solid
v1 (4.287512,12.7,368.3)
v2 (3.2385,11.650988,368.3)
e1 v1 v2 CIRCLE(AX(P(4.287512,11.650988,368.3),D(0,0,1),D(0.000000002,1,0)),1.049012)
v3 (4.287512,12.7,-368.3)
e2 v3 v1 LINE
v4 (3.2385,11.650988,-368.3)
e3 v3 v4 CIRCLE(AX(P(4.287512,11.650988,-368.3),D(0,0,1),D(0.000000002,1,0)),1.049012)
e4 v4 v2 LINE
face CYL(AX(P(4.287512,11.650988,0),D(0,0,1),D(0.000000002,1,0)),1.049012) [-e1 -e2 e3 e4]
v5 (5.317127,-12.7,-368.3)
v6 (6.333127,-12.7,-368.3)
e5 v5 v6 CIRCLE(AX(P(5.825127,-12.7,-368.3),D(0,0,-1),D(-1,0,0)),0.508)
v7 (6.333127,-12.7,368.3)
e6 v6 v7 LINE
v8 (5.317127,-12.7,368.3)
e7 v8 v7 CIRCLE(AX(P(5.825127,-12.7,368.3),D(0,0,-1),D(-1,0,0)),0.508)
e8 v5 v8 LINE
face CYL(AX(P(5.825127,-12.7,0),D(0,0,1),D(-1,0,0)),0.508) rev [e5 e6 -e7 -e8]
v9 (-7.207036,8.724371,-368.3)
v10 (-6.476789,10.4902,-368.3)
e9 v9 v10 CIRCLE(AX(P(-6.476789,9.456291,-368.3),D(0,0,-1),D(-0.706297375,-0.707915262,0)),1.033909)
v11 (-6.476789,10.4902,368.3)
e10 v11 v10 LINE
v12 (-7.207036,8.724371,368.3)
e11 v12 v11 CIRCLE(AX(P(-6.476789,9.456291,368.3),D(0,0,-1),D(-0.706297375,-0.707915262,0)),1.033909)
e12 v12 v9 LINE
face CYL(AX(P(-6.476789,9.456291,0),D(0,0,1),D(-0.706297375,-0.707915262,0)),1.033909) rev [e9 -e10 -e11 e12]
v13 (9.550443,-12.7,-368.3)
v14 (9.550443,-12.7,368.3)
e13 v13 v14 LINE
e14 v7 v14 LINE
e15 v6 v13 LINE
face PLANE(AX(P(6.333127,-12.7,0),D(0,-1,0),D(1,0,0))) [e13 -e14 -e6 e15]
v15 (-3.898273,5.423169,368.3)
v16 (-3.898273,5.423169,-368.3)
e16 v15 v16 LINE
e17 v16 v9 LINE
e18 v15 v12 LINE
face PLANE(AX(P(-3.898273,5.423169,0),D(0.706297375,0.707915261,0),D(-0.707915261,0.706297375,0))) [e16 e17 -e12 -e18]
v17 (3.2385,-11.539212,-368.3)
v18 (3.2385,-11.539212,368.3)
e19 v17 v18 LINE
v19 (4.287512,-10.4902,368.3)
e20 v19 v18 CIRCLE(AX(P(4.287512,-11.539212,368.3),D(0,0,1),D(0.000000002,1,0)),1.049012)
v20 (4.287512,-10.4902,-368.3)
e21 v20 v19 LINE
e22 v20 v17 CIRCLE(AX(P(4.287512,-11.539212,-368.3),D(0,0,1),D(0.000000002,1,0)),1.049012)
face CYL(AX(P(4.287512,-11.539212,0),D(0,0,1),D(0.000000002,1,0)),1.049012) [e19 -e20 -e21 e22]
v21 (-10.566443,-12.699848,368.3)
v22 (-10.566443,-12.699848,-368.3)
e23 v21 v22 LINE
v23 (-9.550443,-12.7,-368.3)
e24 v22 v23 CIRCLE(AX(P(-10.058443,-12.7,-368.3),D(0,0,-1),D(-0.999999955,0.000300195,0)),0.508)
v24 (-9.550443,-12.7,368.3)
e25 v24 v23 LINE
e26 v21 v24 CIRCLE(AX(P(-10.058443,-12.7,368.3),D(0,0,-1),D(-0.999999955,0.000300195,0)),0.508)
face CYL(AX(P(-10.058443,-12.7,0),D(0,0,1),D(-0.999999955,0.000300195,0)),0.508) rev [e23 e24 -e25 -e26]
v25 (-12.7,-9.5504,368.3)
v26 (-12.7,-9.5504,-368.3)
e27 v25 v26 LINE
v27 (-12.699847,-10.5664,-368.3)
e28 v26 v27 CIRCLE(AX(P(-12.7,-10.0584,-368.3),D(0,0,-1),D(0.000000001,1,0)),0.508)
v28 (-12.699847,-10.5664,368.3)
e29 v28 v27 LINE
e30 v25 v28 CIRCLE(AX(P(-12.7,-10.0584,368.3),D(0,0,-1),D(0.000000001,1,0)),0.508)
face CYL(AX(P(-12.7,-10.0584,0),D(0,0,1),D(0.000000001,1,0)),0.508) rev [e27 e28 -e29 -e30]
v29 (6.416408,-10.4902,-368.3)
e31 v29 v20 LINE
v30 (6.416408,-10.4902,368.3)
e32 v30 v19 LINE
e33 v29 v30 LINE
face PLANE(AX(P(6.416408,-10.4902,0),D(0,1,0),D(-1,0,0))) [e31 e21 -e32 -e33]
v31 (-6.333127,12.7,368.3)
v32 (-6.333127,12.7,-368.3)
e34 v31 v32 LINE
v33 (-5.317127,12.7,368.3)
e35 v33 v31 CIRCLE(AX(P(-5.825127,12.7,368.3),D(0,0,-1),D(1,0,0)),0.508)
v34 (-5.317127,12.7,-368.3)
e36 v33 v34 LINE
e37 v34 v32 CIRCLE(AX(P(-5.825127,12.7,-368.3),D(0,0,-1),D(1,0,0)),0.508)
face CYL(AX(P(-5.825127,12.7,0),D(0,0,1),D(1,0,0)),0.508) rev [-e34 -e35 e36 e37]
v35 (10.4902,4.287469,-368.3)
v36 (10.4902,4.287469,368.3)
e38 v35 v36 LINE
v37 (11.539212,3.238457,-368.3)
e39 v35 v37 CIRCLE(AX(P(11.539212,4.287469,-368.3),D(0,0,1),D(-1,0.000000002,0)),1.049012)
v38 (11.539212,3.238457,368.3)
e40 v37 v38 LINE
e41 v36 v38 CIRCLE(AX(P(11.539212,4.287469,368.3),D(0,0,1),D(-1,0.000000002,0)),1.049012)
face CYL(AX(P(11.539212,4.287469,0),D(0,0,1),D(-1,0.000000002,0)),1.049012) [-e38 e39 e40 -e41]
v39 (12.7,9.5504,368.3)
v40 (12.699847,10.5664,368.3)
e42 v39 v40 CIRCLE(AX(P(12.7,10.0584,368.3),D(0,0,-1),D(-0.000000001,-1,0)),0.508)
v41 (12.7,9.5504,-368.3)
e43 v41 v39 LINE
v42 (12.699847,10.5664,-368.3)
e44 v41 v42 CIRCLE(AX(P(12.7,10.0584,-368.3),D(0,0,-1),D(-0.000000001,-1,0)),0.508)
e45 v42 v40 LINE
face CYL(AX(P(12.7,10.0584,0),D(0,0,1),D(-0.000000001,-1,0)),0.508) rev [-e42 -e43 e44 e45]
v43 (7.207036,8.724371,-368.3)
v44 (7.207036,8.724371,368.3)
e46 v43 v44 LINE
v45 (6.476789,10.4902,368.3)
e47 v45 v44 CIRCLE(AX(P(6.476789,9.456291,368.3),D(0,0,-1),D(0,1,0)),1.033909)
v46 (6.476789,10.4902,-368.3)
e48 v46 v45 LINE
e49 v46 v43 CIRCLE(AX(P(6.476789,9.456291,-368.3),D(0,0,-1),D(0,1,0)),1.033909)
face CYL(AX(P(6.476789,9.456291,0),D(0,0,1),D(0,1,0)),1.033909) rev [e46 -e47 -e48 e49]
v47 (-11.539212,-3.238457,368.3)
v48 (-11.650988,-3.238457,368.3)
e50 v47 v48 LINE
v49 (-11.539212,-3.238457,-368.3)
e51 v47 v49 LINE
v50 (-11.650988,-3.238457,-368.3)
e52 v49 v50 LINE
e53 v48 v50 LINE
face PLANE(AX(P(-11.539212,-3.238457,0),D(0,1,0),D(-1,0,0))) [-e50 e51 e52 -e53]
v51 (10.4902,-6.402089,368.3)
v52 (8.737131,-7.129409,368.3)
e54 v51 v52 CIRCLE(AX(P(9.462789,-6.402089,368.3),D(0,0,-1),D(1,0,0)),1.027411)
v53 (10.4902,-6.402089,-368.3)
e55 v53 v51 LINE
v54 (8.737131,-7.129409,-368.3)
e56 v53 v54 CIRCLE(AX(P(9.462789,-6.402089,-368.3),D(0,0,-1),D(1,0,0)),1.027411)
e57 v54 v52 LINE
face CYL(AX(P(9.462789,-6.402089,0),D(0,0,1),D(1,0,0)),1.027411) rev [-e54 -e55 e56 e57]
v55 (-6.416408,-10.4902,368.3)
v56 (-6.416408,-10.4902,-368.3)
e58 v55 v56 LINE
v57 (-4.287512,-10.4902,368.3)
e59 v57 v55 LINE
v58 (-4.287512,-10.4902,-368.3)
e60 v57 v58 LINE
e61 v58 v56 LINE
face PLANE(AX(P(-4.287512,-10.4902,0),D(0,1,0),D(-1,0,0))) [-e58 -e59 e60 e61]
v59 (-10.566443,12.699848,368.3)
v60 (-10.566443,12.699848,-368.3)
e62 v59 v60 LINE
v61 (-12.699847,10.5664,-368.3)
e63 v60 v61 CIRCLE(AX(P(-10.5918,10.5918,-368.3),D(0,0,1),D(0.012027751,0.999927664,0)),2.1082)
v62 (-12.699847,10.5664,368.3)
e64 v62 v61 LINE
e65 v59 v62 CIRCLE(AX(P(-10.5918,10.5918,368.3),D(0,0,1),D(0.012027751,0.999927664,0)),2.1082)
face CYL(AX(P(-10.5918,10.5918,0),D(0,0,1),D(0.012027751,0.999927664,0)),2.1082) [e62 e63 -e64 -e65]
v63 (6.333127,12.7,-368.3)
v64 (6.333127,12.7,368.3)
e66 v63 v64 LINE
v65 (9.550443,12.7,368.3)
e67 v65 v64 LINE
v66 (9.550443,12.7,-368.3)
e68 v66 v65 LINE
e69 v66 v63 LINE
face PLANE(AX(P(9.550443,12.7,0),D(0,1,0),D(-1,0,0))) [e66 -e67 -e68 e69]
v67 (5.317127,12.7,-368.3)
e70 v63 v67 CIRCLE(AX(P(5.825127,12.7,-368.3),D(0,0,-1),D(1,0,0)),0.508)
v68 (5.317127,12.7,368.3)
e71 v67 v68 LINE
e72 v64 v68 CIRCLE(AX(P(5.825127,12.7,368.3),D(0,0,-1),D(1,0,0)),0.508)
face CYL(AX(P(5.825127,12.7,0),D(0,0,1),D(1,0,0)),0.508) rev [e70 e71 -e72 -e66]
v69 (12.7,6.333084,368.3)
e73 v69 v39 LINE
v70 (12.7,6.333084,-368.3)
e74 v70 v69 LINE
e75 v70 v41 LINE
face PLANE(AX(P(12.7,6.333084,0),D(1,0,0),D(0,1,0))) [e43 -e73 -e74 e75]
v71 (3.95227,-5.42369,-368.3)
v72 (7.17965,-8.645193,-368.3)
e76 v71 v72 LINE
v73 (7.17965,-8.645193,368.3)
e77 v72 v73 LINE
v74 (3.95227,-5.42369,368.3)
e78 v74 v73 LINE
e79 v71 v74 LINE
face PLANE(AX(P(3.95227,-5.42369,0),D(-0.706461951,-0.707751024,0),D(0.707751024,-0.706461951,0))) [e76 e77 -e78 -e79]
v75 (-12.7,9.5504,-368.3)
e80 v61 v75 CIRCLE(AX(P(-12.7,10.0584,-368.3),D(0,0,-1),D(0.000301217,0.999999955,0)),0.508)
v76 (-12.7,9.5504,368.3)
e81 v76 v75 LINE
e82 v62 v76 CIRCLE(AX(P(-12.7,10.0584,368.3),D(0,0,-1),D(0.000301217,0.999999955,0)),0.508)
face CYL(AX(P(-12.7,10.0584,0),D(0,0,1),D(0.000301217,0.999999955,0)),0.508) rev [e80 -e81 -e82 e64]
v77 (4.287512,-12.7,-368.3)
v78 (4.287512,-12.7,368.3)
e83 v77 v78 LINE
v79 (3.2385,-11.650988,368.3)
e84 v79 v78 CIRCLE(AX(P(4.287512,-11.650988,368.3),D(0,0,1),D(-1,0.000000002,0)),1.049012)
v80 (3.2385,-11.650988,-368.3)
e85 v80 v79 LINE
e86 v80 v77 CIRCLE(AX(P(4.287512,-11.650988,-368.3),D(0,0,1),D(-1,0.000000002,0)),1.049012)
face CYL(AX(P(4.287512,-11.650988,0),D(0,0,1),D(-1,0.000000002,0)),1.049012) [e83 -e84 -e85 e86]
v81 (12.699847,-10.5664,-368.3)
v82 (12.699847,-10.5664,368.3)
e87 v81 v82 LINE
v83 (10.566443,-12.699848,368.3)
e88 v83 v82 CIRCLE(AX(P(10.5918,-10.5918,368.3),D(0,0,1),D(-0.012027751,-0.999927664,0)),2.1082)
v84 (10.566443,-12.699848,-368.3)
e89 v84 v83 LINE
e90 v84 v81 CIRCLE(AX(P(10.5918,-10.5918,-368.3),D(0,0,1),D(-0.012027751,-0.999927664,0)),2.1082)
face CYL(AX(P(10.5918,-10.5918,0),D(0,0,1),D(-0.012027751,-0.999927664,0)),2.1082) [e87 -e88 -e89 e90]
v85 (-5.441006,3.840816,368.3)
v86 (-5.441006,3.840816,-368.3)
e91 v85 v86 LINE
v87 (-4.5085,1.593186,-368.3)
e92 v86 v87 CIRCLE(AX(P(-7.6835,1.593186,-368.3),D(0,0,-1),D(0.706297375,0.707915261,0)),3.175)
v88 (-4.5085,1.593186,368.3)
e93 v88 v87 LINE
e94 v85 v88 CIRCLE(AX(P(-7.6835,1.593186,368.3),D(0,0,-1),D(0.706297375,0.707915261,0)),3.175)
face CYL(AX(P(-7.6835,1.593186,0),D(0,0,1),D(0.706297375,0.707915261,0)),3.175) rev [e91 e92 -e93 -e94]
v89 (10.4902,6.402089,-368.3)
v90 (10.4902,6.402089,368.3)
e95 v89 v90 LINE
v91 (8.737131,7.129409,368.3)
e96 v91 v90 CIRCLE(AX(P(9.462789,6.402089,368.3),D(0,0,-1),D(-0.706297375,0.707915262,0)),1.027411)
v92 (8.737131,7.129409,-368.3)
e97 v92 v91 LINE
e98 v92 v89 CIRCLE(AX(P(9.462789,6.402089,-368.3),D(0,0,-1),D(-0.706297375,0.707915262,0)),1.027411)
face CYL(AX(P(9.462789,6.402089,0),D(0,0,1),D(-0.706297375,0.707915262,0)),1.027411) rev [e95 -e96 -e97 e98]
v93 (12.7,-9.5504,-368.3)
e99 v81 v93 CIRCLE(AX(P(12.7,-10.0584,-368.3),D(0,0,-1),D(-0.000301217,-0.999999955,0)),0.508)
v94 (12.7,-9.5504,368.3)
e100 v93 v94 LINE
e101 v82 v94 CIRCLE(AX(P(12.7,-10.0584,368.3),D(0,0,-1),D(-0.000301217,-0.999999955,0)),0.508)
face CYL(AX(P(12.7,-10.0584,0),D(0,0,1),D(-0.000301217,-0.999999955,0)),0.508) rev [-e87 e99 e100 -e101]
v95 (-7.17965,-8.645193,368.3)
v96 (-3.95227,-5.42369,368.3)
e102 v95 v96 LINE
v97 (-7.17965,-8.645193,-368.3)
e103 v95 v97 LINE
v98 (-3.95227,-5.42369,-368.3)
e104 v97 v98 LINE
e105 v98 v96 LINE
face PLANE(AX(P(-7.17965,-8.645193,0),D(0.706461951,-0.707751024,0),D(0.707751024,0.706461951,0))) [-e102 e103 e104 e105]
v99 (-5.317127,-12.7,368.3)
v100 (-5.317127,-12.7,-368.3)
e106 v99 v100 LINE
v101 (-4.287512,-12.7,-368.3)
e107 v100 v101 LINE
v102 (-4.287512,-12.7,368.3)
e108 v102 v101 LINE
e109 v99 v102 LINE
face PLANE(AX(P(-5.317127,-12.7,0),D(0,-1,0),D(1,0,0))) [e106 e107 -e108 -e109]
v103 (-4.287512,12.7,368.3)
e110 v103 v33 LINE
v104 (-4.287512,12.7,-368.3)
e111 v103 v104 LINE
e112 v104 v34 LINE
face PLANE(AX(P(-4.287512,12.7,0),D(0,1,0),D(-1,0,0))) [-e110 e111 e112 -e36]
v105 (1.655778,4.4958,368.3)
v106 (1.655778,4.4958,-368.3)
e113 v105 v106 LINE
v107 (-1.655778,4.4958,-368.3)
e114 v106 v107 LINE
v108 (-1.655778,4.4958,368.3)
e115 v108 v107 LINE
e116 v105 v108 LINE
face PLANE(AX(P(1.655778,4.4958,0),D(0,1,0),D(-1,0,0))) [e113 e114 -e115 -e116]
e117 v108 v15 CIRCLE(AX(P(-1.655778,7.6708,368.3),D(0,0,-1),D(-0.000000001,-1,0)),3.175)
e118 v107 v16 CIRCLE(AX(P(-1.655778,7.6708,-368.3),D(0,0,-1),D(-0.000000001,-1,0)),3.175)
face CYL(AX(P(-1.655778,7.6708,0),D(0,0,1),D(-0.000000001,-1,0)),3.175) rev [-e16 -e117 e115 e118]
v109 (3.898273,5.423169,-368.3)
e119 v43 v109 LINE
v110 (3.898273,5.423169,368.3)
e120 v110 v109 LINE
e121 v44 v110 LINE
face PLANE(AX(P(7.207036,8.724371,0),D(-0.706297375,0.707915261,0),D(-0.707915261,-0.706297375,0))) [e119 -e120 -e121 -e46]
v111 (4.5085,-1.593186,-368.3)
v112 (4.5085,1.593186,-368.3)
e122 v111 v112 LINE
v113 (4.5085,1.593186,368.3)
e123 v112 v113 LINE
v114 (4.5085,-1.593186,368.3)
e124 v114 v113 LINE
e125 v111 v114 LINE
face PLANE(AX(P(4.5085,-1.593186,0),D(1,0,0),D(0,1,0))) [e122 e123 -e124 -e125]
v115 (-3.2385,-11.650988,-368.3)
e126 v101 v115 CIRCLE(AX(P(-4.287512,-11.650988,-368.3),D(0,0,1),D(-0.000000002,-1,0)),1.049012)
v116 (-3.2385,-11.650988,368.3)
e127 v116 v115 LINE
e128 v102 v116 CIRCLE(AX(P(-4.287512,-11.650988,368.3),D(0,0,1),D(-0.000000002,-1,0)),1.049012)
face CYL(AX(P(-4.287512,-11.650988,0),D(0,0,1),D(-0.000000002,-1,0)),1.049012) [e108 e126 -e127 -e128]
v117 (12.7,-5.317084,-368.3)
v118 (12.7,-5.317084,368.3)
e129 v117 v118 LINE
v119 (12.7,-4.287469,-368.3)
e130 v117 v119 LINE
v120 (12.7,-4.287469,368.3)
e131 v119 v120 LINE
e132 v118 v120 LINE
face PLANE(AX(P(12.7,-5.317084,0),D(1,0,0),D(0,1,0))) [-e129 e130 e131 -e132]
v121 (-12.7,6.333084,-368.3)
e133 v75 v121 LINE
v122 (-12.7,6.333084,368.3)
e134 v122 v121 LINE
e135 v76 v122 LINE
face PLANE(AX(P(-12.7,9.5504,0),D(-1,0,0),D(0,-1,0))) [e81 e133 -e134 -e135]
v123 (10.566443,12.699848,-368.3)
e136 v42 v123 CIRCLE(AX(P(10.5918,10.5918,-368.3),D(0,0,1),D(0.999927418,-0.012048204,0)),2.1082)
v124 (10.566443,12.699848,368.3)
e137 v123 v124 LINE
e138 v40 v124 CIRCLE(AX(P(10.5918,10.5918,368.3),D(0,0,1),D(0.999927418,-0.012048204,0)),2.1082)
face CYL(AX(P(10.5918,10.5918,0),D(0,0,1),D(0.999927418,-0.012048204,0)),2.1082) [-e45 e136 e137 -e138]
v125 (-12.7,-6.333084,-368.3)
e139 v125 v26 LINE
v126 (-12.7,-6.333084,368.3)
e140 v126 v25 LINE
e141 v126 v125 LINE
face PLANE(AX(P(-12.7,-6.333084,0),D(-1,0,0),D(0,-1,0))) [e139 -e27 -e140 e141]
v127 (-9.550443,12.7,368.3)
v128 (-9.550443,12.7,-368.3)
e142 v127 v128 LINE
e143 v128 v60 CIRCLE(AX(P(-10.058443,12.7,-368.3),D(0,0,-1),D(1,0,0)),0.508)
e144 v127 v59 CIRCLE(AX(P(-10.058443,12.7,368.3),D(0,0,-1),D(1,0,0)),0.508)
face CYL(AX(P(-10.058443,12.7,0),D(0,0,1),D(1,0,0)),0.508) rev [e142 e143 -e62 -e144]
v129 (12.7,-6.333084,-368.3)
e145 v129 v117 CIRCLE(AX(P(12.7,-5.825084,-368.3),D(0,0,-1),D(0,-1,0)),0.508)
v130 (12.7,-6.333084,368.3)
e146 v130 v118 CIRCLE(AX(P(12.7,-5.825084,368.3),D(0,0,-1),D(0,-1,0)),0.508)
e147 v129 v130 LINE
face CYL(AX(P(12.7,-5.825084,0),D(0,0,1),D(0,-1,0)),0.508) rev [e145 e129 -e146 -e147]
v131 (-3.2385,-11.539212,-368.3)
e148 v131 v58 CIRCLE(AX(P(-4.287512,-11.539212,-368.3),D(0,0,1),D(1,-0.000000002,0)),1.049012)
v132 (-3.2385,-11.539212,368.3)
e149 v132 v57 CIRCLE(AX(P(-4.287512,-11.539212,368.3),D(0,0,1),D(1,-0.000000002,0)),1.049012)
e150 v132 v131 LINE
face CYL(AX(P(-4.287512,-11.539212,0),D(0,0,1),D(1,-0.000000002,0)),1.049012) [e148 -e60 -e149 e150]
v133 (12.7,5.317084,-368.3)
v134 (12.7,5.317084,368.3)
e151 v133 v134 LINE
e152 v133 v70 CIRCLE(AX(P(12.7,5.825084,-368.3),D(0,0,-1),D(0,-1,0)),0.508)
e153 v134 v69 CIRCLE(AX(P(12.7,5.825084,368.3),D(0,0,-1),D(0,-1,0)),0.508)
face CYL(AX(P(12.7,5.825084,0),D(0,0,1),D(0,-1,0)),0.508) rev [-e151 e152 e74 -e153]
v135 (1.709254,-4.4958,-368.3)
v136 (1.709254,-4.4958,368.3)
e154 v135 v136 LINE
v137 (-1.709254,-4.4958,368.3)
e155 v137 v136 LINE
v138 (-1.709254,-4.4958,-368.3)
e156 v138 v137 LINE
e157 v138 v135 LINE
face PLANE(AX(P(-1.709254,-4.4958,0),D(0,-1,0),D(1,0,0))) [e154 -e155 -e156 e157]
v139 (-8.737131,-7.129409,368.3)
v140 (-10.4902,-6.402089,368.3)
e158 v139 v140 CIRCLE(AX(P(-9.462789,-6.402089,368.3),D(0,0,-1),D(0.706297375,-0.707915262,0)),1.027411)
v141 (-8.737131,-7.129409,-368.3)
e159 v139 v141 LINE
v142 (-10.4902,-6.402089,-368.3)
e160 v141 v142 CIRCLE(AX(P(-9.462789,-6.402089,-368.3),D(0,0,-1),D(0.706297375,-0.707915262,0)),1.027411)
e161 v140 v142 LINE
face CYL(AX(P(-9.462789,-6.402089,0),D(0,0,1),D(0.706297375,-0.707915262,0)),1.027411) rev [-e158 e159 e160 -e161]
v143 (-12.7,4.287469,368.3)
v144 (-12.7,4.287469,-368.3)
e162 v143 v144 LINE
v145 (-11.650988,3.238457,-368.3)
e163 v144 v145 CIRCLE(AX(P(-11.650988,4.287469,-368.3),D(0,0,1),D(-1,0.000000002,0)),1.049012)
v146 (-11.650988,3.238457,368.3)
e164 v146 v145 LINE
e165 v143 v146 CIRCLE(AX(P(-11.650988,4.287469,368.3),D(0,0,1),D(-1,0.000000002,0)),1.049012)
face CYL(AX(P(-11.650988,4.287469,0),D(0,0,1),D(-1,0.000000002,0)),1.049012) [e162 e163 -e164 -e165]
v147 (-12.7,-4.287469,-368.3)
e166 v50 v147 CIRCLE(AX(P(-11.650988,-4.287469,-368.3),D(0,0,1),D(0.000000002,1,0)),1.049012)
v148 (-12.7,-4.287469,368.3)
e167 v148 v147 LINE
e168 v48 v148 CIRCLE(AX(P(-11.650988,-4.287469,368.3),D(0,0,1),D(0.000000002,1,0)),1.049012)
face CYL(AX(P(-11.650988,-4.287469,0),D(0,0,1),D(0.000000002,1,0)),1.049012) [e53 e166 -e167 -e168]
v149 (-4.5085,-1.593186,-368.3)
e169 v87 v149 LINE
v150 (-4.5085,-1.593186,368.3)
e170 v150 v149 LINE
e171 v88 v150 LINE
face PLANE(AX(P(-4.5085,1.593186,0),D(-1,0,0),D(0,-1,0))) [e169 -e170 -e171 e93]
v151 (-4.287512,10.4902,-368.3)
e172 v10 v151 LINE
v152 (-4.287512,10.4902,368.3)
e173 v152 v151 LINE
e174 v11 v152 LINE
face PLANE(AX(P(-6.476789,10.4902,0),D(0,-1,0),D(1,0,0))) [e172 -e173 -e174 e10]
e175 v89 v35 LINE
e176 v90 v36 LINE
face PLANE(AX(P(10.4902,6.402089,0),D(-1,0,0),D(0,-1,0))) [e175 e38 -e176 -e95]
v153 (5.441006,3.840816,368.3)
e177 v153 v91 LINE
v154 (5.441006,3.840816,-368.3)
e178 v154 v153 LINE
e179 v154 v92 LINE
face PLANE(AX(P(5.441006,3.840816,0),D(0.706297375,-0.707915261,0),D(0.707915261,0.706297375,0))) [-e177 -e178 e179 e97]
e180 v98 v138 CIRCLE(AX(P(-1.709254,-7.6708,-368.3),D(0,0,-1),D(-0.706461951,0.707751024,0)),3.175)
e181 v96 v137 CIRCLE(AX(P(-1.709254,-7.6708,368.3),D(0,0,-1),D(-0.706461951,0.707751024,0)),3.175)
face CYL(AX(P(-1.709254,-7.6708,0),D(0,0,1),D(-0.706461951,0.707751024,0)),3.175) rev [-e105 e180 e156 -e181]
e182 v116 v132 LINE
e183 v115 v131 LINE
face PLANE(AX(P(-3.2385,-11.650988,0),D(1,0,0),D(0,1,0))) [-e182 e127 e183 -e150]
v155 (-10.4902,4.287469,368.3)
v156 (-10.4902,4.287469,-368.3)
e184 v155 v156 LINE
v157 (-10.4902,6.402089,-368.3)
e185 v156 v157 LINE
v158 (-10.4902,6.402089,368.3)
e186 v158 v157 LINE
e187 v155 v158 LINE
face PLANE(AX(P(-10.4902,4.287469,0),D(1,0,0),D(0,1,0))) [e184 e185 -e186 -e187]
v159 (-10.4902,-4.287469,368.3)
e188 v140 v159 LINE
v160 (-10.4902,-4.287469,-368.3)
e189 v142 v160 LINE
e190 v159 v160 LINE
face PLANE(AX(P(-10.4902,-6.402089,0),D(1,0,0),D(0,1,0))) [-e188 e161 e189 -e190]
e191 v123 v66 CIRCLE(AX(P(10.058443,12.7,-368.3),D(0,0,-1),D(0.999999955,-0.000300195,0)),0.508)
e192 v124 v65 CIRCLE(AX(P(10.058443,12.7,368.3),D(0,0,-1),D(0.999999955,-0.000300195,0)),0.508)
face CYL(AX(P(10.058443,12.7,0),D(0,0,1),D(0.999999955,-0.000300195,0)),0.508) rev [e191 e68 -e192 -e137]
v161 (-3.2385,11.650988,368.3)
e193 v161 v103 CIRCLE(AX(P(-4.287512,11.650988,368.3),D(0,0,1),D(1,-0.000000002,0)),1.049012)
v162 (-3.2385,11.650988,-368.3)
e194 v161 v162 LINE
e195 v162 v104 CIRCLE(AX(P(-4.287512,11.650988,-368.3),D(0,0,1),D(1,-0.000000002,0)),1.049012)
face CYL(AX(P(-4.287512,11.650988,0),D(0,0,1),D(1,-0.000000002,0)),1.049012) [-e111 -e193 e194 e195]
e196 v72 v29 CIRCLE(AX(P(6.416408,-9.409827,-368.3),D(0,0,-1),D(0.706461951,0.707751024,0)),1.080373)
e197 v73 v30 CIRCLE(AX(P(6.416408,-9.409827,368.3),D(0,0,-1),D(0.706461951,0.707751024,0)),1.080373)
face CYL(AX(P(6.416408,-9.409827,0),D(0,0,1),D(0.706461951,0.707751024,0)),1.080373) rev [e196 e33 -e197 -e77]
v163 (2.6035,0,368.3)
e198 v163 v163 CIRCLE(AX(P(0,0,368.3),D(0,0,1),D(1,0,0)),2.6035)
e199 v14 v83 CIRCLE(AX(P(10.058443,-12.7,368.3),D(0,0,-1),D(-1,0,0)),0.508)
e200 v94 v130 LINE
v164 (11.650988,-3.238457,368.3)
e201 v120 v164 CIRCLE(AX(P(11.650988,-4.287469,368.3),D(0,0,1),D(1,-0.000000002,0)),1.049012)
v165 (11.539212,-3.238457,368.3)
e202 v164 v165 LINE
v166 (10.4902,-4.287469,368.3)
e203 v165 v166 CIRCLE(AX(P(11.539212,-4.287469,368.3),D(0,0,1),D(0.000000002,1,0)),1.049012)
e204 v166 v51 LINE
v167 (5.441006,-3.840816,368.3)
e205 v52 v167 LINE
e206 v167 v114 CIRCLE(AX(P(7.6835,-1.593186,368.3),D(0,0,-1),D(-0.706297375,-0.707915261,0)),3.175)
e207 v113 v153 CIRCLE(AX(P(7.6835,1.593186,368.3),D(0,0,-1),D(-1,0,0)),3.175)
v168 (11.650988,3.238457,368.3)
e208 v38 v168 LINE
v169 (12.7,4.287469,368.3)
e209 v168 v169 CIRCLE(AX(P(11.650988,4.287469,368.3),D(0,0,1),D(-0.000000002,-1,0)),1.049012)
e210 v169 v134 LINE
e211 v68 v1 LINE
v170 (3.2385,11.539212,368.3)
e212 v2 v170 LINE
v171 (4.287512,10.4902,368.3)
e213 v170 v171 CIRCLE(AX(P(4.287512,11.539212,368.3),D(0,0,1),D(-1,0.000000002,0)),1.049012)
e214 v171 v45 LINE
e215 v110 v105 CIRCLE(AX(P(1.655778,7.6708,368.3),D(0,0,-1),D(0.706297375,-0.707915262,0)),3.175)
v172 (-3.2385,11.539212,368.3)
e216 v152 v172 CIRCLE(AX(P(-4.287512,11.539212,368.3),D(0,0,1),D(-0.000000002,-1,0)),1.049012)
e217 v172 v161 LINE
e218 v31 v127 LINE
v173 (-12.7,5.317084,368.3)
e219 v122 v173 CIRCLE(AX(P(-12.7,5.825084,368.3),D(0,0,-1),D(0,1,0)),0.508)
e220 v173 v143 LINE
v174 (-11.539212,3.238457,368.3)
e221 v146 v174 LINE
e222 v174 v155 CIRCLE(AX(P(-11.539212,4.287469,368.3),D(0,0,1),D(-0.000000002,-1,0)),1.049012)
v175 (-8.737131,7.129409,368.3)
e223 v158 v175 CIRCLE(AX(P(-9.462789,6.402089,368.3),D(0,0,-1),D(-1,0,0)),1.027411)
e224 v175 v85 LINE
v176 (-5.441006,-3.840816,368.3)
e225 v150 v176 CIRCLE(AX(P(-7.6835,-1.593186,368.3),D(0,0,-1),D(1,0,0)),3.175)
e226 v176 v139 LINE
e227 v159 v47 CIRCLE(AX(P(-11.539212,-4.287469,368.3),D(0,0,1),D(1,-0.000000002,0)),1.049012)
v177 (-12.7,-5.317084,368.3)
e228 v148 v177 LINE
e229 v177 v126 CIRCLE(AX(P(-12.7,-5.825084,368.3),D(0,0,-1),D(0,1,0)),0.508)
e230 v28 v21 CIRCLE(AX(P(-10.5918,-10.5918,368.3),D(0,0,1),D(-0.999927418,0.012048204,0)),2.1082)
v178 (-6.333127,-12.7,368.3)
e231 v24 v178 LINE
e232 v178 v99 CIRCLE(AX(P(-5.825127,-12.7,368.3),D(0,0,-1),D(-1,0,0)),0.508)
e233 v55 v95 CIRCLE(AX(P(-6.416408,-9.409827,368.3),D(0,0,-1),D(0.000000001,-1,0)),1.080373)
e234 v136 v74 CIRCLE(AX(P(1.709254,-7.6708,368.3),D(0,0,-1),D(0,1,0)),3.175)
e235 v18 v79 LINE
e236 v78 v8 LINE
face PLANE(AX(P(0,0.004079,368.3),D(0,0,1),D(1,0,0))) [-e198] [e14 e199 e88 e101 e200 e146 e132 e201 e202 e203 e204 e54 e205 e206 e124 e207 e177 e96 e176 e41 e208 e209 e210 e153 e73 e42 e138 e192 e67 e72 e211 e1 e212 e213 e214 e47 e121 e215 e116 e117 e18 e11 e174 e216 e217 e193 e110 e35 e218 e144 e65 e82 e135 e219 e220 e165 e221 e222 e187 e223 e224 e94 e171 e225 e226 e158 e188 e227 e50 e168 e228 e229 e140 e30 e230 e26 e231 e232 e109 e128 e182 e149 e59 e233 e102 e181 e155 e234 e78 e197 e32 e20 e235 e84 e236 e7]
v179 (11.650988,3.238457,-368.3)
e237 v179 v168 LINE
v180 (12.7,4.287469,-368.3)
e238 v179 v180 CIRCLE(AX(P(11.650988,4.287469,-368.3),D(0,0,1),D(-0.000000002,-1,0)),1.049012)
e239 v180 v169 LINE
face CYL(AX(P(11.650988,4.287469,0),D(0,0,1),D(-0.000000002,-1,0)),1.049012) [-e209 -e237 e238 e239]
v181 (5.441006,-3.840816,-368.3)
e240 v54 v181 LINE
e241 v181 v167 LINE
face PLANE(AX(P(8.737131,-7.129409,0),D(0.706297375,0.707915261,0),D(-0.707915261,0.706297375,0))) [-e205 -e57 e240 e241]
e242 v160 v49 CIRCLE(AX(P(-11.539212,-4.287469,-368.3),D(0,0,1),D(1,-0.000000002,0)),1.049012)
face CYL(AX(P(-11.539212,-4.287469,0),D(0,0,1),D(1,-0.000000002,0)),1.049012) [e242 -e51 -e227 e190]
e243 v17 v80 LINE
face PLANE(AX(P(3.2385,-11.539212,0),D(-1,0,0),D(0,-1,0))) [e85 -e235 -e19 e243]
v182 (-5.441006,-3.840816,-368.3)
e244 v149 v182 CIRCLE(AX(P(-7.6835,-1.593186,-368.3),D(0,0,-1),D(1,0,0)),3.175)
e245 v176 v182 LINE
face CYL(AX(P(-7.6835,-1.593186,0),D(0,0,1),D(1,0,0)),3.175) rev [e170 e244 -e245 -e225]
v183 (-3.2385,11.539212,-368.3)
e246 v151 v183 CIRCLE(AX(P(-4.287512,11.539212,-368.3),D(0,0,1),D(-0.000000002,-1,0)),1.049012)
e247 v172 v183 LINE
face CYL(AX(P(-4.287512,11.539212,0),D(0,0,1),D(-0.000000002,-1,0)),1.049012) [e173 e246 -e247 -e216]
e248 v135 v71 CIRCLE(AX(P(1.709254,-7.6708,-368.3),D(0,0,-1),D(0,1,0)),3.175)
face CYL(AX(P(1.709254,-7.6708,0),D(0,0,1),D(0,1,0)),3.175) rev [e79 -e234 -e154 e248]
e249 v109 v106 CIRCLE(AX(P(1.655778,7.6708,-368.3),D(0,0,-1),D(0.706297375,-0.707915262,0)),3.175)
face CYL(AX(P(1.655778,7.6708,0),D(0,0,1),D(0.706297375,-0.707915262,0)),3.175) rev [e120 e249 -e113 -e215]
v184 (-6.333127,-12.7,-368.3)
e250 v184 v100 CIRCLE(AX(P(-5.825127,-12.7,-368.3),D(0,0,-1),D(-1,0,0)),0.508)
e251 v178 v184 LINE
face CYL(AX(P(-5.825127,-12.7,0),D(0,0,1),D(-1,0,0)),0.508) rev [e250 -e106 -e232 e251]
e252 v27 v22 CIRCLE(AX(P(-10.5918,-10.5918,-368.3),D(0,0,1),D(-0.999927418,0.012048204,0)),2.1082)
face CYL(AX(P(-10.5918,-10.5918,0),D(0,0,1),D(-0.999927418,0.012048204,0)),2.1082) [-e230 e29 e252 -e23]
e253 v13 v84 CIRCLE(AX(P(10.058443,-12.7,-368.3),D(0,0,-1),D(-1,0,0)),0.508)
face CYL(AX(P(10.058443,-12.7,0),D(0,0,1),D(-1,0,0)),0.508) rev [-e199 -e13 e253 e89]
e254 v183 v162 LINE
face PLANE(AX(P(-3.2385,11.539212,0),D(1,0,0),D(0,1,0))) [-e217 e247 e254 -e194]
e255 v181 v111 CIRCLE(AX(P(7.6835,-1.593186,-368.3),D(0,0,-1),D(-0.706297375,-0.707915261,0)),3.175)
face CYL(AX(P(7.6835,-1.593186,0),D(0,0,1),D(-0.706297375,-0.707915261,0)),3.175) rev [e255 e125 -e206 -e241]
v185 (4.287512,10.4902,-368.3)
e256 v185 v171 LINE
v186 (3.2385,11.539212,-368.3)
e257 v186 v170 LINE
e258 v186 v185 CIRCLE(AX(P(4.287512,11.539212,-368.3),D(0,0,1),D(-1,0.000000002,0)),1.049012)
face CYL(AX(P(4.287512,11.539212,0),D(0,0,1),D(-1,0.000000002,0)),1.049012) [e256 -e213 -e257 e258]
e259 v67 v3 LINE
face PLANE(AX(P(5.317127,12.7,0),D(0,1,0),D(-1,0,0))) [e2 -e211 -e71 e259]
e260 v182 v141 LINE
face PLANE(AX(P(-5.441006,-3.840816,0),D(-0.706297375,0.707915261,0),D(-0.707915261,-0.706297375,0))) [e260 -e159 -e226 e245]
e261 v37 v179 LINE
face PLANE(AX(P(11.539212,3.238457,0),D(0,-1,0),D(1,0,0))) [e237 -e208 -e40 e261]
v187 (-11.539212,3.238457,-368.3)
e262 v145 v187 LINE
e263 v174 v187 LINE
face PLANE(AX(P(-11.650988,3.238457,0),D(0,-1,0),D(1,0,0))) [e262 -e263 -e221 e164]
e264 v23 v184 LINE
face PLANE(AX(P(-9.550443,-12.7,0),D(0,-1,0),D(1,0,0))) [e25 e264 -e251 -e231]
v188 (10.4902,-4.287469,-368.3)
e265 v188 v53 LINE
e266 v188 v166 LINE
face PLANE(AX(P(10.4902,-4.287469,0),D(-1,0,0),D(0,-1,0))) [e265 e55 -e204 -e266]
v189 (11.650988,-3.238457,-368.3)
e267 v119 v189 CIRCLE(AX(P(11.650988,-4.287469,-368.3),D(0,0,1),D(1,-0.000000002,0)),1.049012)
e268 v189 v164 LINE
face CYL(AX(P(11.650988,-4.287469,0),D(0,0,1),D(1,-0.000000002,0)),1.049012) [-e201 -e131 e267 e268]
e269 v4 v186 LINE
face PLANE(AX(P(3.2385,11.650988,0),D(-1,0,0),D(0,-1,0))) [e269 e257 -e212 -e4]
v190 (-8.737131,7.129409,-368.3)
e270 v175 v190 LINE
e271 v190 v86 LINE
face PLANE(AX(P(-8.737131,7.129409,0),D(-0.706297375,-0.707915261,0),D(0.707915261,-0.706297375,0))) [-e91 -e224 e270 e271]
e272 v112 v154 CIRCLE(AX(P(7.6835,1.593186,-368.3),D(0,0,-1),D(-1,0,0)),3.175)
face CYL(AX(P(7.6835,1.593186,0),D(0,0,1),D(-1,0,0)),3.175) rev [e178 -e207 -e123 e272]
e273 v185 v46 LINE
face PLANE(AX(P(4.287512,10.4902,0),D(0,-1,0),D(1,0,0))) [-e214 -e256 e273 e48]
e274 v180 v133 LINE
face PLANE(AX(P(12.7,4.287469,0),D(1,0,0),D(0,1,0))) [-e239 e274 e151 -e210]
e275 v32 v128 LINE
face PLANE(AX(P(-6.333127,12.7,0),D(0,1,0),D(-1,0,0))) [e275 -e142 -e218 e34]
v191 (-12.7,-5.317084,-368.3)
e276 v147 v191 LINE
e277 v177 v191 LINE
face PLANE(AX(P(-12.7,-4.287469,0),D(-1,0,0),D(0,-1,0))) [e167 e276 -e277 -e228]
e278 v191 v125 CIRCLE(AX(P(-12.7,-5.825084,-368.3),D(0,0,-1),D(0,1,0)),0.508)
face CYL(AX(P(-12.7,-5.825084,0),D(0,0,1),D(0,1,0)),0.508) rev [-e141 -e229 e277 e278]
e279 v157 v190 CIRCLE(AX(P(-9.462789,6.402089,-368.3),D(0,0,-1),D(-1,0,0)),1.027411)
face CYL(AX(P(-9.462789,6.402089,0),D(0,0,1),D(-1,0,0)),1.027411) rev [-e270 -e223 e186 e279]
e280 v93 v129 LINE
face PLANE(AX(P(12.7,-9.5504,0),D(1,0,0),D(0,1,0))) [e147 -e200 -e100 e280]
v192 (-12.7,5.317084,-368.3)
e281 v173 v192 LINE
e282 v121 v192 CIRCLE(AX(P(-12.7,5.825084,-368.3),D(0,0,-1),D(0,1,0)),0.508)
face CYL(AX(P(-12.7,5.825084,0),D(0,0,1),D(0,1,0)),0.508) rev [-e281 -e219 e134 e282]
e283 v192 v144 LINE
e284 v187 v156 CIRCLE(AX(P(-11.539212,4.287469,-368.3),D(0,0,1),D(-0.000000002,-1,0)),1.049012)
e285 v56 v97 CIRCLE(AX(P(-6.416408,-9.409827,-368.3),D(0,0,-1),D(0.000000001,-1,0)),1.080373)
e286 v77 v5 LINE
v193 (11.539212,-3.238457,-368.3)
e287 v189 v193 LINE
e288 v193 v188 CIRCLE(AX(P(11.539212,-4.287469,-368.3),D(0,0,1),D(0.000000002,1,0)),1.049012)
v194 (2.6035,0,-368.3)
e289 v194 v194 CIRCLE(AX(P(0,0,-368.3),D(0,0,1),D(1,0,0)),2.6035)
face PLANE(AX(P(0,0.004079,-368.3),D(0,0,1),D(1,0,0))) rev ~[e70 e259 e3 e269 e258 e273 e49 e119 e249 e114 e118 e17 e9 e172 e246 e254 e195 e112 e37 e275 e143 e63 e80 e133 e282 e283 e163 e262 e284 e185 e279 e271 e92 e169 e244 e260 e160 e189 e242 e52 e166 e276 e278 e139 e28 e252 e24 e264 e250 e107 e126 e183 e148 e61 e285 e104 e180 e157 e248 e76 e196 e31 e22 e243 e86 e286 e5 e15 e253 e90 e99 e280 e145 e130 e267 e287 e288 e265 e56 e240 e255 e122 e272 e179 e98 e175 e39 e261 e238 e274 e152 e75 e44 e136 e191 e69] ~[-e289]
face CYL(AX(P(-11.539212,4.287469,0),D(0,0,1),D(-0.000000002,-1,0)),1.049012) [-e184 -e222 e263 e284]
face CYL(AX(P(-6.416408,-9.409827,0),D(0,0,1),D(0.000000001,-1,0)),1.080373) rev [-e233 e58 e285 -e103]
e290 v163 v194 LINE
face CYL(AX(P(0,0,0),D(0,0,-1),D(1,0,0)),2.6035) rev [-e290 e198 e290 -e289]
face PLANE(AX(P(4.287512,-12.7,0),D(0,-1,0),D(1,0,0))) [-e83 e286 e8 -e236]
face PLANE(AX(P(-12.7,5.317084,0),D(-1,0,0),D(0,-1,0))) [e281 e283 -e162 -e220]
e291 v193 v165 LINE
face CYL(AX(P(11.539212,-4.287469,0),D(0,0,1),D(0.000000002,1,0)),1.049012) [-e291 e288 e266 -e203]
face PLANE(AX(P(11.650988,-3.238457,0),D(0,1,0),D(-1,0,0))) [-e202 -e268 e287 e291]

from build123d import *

# Parameters (mm, degrees)
SKETCH1_R           = 2.6035
BOSS_EXTRUDE1_DEPTH = 368.3


with BuildPart() as part:
    # Sketch1 → Boss-Extrude1 (new body, symmetric)
    with BuildSketch(Plane.XY):
        with BuildLine():
            Line((-7.179650497, -8.645192506), (-3.952270251, -5.423690499))
            ThreePointArc((-3.952270251, -5.423690499), (-2.922936451, -4.736929036), (-1.709253557, -4.4958))
            Line((-1.709253557, -4.4958), (1.709253557, -4.4958))
            ThreePointArc((1.709253557, -4.4958), (2.922936451, -4.736929036), (3.952270251, -5.423690499))
            Line((3.952270251, -5.423690499), (7.179650497, -8.645192506))
            ThreePointArc((7.179650497, -8.645192506), (7.41473083, -9.822813117), (6.416408329, -10.4902))
            Line((6.416408329, -10.4902), (4.287512407, -10.4902))
            ThreePointArc((4.287512407, -10.4902), (3.54574862, -10.79744862), (3.2385, -11.539212407))
            Line((3.2385, -11.539212407), (3.2385, -11.650987593))
            ThreePointArc((3.2385, -11.650987593), (3.54574862, -12.39275138), (4.287512407, -12.7))
            Line((4.287512407, -12.7), (5.317126718, -12.7))
            ThreePointArc((5.317126718, -12.7), (5.825126718, -12.192), (6.333126718, -12.7))
            Line((6.333126718, -12.7), (9.550443118, -12.7))
            ThreePointArc((9.550443118, -12.7), (10.058366869, -12.192000006), (10.566443095, -12.699847501))
            ThreePointArc((10.566443095, -12.699847501), (12.082537762, -12.08250727), (12.699846982, -10.566399977))
            ThreePointArc((12.699846982, -10.566399977), (12.192000006, -10.058323491), (12.7, -9.5504))
            Line((12.7, -9.5504), (12.7, -6.3330836))
            ThreePointArc((12.7, -6.3330836), (12.192, -5.8250836), (12.7, -5.3170836))
            Line((12.7, -5.3170836), (12.7, -4.287469289))
            ThreePointArc((12.7, -4.287469289), (12.39275138, -3.545705502), (11.650987593, -3.238456882))
            Line((11.650987593, -3.238456882), (11.539212407, -3.238456882))
            ThreePointArc((11.539212407, -3.238456882), (10.79744862, -3.545705502), (10.4902, -4.287469289))
            Line((10.4902, -4.287469289), (10.4902, -6.402089023))
            ThreePointArc((10.4902, -6.402089023), (9.856505071, -7.351067942), (8.737131347, -7.129408934))
            Line((8.737131347, -7.129408934), (5.441005833, -3.840816462))
            ThreePointArc((5.441005833, -3.840816462), (4.750877967, -2.809883091), (4.5085, -1.593185507))
            Line((4.5085, -1.593185507), (4.5085, 1.593185507))
            ThreePointArc((4.5085, 1.593185507), (4.750877967, 2.809883091), (5.441005833, 3.840816462))
            Line((5.441005833, 3.840816462), (8.737131347, 7.129408934))
            ThreePointArc((8.737131347, 7.129408934), (9.856505071, 7.351067942), (10.4902, 6.402089023))
            Line((10.4902, 6.402089023), (10.4902, 4.287469289))
            ThreePointArc((10.4902, 4.287469289), (10.79744862, 3.545705502), (11.539212407, 3.238456882))
            Line((11.539212407, 3.238456882), (11.650987593, 3.238456882))
            ThreePointArc((11.650987593, 3.238456882), (12.39275138, 3.545705502), (12.7, 4.287469289))
            Line((12.7, 4.287469289), (12.7, 5.3170836))
            ThreePointArc((12.7, 5.3170836), (12.192, 5.8250836), (12.7, 6.3330836))
            Line((12.7, 6.3330836), (12.7, 9.5504))
            ThreePointArc((12.7, 9.5504), (12.192000006, 10.058323491), (12.699846982, 10.566399977))
            ThreePointArc((12.699846982, 10.566399977), (12.082537762, 12.08250727), (10.566443095, 12.699847501))
            ThreePointArc((10.566443095, 12.699847501), (10.058366869, 12.192000006), (9.550443118, 12.7))
            Line((9.550443118, 12.7), (6.333126718, 12.7))
            ThreePointArc((6.333126718, 12.7), (5.825126718, 12.192), (5.317126718, 12.7))
            Line((5.317126718, 12.7), (4.287512407, 12.7))
            ThreePointArc((4.287512407, 12.7), (3.54574862, 12.39275138), (3.2385, 11.650987593))
            Line((3.2385, 11.650987593), (3.2385, 11.539212407))
            ThreePointArc((3.2385, 11.539212407), (3.54574862, 10.79744862), (4.287512407, 10.4902))
            Line((4.287512407, 10.4902), (6.476788598, 10.4902))
            ThreePointArc((6.476788598, 10.4902), (7.432222385, 9.85140422), (7.207036008, 8.724370562))
            Line((7.207036008, 8.724370562), (3.898272566, 5.423169045))
            ThreePointArc((3.898272566, 5.423169045), (2.869120213, 4.736787962), (1.655778399, 4.4958))
            Line((1.655778399, 4.4958), (-1.655778399, 4.4958))
            ThreePointArc((-1.655778399, 4.4958), (-2.869120213, 4.736787962), (-3.898272566, 5.423169045))
            Line((-3.898272566, 5.423169045), (-7.207036008, 8.724370562))
            ThreePointArc((-7.207036008, 8.724370562), (-7.432222385, 9.85140422), (-6.476788598, 10.4902))
            Line((-6.476788598, 10.4902), (-4.287512407, 10.4902))
            ThreePointArc((-4.287512407, 10.4902), (-3.54574862, 10.79744862), (-3.2385, 11.539212407))
            Line((-3.2385, 11.539212407), (-3.2385, 11.650987593))
            ThreePointArc((-3.2385, 11.650987593), (-3.54574862, 12.39275138), (-4.287512407, 12.7))
            Line((-4.287512407, 12.7), (-5.317126718, 12.7))
            ThreePointArc((-5.317126718, 12.7), (-5.825126718, 12.192), (-6.333126718, 12.7))
            Line((-6.333126718, 12.7), (-9.550443118, 12.7))
            ThreePointArc((-9.550443118, 12.7), (-10.058366869, 12.192000006), (-10.566443095, 12.699847501))
            ThreePointArc((-10.566443095, 12.699847501), (-12.082537762, 12.08250727), (-12.699846982, 10.566399977))
            ThreePointArc((-12.699846982, 10.566399977), (-12.192000006, 10.058323491), (-12.7, 9.5504))
            Line((-12.7, 9.5504), (-12.7, 6.3330836))
            ThreePointArc((-12.7, 6.3330836), (-12.192, 5.8250836), (-12.7, 5.3170836))
            Line((-12.7, 5.3170836), (-12.7, 4.287469289))
            ThreePointArc((-12.7, 4.287469289), (-12.39275138, 3.545705502), (-11.650987593, 3.238456882))
            Line((-11.650987593, 3.238456882), (-11.539212407, 3.238456882))
            ThreePointArc((-11.539212407, 3.238456882), (-10.79744862, 3.545705502), (-10.4902, 4.287469289))
            Line((-10.4902, 4.287469289), (-10.4902, 6.402089023))
            ThreePointArc((-10.4902, 6.402089023), (-9.856505071, 7.351067942), (-8.737131347, 7.129408934))
            Line((-8.737131347, 7.129408934), (-5.441005833, 3.840816462))
            ThreePointArc((-5.441005833, 3.840816462), (-4.750877967, 2.809883091), (-4.5085, 1.593185507))
            Line((-4.5085, 1.593185507), (-4.5085, -1.593185507))
            ThreePointArc((-4.5085, -1.593185507), (-4.750877967, -2.809883091), (-5.441005833, -3.840816462))
            Line((-5.441005833, -3.840816462), (-8.737131347, -7.129408934))
            ThreePointArc((-8.737131347, -7.129408934), (-9.856505071, -7.351067942), (-10.4902, -6.402089023))
            Line((-10.4902, -6.402089023), (-10.4902, -4.287469289))
            ThreePointArc((-10.4902, -4.287469289), (-10.79744862, -3.545705502), (-11.539212407, -3.238456882))
            Line((-11.539212407, -3.238456882), (-11.650987593, -3.238456882))
            ThreePointArc((-11.650987593, -3.238456882), (-12.39275138, -3.545705502), (-12.7, -4.287469289))
            Line((-12.7, -4.287469289), (-12.7, -5.3170836))
            ThreePointArc((-12.7, -5.3170836), (-12.192, -5.8250836), (-12.7, -6.3330836))
            Line((-12.7, -6.3330836), (-12.7, -9.5504))
            ThreePointArc((-12.7, -9.5504), (-12.192000006, -10.058323491), (-12.699846982, -10.566399977))
            ThreePointArc((-12.699846982, -10.566399977), (-12.082537762, -12.08250727), (-10.566443095, -12.699847501))
            ThreePointArc((-10.566443095, -12.699847501), (-10.058366869, -12.192000006), (-9.550443118, -12.7))
            Line((-9.550443118, -12.7), (-6.333126718, -12.7))
            ThreePointArc((-6.333126718, -12.7), (-5.825126718, -12.192), (-5.317126718, -12.7))
            Line((-5.317126718, -12.7), (-4.287512407, -12.7))
            ThreePointArc((-4.287512407, -12.7), (-3.54574862, -12.39275138), (-3.2385, -11.650987593))
            Line((-3.2385, -11.650987593), (-3.2385, -11.539212407))
            ThreePointArc((-3.2385, -11.539212407), (-3.54574862, -10.79744862), (-4.287512407, -10.4902))
            Line((-4.287512407, -10.4902), (-6.416408329, -10.4902))
            ThreePointArc((-6.416408329, -10.4902), (-7.41473083, -9.822813117), (-7.179650497, -8.645192506))
        make_face()
        Circle(SKETCH1_R, mode=Mode.SUBTRACT)
    extrude(amount=BOSS_EXTRUDE1_DEPTH, both=True)


solid = part.part
